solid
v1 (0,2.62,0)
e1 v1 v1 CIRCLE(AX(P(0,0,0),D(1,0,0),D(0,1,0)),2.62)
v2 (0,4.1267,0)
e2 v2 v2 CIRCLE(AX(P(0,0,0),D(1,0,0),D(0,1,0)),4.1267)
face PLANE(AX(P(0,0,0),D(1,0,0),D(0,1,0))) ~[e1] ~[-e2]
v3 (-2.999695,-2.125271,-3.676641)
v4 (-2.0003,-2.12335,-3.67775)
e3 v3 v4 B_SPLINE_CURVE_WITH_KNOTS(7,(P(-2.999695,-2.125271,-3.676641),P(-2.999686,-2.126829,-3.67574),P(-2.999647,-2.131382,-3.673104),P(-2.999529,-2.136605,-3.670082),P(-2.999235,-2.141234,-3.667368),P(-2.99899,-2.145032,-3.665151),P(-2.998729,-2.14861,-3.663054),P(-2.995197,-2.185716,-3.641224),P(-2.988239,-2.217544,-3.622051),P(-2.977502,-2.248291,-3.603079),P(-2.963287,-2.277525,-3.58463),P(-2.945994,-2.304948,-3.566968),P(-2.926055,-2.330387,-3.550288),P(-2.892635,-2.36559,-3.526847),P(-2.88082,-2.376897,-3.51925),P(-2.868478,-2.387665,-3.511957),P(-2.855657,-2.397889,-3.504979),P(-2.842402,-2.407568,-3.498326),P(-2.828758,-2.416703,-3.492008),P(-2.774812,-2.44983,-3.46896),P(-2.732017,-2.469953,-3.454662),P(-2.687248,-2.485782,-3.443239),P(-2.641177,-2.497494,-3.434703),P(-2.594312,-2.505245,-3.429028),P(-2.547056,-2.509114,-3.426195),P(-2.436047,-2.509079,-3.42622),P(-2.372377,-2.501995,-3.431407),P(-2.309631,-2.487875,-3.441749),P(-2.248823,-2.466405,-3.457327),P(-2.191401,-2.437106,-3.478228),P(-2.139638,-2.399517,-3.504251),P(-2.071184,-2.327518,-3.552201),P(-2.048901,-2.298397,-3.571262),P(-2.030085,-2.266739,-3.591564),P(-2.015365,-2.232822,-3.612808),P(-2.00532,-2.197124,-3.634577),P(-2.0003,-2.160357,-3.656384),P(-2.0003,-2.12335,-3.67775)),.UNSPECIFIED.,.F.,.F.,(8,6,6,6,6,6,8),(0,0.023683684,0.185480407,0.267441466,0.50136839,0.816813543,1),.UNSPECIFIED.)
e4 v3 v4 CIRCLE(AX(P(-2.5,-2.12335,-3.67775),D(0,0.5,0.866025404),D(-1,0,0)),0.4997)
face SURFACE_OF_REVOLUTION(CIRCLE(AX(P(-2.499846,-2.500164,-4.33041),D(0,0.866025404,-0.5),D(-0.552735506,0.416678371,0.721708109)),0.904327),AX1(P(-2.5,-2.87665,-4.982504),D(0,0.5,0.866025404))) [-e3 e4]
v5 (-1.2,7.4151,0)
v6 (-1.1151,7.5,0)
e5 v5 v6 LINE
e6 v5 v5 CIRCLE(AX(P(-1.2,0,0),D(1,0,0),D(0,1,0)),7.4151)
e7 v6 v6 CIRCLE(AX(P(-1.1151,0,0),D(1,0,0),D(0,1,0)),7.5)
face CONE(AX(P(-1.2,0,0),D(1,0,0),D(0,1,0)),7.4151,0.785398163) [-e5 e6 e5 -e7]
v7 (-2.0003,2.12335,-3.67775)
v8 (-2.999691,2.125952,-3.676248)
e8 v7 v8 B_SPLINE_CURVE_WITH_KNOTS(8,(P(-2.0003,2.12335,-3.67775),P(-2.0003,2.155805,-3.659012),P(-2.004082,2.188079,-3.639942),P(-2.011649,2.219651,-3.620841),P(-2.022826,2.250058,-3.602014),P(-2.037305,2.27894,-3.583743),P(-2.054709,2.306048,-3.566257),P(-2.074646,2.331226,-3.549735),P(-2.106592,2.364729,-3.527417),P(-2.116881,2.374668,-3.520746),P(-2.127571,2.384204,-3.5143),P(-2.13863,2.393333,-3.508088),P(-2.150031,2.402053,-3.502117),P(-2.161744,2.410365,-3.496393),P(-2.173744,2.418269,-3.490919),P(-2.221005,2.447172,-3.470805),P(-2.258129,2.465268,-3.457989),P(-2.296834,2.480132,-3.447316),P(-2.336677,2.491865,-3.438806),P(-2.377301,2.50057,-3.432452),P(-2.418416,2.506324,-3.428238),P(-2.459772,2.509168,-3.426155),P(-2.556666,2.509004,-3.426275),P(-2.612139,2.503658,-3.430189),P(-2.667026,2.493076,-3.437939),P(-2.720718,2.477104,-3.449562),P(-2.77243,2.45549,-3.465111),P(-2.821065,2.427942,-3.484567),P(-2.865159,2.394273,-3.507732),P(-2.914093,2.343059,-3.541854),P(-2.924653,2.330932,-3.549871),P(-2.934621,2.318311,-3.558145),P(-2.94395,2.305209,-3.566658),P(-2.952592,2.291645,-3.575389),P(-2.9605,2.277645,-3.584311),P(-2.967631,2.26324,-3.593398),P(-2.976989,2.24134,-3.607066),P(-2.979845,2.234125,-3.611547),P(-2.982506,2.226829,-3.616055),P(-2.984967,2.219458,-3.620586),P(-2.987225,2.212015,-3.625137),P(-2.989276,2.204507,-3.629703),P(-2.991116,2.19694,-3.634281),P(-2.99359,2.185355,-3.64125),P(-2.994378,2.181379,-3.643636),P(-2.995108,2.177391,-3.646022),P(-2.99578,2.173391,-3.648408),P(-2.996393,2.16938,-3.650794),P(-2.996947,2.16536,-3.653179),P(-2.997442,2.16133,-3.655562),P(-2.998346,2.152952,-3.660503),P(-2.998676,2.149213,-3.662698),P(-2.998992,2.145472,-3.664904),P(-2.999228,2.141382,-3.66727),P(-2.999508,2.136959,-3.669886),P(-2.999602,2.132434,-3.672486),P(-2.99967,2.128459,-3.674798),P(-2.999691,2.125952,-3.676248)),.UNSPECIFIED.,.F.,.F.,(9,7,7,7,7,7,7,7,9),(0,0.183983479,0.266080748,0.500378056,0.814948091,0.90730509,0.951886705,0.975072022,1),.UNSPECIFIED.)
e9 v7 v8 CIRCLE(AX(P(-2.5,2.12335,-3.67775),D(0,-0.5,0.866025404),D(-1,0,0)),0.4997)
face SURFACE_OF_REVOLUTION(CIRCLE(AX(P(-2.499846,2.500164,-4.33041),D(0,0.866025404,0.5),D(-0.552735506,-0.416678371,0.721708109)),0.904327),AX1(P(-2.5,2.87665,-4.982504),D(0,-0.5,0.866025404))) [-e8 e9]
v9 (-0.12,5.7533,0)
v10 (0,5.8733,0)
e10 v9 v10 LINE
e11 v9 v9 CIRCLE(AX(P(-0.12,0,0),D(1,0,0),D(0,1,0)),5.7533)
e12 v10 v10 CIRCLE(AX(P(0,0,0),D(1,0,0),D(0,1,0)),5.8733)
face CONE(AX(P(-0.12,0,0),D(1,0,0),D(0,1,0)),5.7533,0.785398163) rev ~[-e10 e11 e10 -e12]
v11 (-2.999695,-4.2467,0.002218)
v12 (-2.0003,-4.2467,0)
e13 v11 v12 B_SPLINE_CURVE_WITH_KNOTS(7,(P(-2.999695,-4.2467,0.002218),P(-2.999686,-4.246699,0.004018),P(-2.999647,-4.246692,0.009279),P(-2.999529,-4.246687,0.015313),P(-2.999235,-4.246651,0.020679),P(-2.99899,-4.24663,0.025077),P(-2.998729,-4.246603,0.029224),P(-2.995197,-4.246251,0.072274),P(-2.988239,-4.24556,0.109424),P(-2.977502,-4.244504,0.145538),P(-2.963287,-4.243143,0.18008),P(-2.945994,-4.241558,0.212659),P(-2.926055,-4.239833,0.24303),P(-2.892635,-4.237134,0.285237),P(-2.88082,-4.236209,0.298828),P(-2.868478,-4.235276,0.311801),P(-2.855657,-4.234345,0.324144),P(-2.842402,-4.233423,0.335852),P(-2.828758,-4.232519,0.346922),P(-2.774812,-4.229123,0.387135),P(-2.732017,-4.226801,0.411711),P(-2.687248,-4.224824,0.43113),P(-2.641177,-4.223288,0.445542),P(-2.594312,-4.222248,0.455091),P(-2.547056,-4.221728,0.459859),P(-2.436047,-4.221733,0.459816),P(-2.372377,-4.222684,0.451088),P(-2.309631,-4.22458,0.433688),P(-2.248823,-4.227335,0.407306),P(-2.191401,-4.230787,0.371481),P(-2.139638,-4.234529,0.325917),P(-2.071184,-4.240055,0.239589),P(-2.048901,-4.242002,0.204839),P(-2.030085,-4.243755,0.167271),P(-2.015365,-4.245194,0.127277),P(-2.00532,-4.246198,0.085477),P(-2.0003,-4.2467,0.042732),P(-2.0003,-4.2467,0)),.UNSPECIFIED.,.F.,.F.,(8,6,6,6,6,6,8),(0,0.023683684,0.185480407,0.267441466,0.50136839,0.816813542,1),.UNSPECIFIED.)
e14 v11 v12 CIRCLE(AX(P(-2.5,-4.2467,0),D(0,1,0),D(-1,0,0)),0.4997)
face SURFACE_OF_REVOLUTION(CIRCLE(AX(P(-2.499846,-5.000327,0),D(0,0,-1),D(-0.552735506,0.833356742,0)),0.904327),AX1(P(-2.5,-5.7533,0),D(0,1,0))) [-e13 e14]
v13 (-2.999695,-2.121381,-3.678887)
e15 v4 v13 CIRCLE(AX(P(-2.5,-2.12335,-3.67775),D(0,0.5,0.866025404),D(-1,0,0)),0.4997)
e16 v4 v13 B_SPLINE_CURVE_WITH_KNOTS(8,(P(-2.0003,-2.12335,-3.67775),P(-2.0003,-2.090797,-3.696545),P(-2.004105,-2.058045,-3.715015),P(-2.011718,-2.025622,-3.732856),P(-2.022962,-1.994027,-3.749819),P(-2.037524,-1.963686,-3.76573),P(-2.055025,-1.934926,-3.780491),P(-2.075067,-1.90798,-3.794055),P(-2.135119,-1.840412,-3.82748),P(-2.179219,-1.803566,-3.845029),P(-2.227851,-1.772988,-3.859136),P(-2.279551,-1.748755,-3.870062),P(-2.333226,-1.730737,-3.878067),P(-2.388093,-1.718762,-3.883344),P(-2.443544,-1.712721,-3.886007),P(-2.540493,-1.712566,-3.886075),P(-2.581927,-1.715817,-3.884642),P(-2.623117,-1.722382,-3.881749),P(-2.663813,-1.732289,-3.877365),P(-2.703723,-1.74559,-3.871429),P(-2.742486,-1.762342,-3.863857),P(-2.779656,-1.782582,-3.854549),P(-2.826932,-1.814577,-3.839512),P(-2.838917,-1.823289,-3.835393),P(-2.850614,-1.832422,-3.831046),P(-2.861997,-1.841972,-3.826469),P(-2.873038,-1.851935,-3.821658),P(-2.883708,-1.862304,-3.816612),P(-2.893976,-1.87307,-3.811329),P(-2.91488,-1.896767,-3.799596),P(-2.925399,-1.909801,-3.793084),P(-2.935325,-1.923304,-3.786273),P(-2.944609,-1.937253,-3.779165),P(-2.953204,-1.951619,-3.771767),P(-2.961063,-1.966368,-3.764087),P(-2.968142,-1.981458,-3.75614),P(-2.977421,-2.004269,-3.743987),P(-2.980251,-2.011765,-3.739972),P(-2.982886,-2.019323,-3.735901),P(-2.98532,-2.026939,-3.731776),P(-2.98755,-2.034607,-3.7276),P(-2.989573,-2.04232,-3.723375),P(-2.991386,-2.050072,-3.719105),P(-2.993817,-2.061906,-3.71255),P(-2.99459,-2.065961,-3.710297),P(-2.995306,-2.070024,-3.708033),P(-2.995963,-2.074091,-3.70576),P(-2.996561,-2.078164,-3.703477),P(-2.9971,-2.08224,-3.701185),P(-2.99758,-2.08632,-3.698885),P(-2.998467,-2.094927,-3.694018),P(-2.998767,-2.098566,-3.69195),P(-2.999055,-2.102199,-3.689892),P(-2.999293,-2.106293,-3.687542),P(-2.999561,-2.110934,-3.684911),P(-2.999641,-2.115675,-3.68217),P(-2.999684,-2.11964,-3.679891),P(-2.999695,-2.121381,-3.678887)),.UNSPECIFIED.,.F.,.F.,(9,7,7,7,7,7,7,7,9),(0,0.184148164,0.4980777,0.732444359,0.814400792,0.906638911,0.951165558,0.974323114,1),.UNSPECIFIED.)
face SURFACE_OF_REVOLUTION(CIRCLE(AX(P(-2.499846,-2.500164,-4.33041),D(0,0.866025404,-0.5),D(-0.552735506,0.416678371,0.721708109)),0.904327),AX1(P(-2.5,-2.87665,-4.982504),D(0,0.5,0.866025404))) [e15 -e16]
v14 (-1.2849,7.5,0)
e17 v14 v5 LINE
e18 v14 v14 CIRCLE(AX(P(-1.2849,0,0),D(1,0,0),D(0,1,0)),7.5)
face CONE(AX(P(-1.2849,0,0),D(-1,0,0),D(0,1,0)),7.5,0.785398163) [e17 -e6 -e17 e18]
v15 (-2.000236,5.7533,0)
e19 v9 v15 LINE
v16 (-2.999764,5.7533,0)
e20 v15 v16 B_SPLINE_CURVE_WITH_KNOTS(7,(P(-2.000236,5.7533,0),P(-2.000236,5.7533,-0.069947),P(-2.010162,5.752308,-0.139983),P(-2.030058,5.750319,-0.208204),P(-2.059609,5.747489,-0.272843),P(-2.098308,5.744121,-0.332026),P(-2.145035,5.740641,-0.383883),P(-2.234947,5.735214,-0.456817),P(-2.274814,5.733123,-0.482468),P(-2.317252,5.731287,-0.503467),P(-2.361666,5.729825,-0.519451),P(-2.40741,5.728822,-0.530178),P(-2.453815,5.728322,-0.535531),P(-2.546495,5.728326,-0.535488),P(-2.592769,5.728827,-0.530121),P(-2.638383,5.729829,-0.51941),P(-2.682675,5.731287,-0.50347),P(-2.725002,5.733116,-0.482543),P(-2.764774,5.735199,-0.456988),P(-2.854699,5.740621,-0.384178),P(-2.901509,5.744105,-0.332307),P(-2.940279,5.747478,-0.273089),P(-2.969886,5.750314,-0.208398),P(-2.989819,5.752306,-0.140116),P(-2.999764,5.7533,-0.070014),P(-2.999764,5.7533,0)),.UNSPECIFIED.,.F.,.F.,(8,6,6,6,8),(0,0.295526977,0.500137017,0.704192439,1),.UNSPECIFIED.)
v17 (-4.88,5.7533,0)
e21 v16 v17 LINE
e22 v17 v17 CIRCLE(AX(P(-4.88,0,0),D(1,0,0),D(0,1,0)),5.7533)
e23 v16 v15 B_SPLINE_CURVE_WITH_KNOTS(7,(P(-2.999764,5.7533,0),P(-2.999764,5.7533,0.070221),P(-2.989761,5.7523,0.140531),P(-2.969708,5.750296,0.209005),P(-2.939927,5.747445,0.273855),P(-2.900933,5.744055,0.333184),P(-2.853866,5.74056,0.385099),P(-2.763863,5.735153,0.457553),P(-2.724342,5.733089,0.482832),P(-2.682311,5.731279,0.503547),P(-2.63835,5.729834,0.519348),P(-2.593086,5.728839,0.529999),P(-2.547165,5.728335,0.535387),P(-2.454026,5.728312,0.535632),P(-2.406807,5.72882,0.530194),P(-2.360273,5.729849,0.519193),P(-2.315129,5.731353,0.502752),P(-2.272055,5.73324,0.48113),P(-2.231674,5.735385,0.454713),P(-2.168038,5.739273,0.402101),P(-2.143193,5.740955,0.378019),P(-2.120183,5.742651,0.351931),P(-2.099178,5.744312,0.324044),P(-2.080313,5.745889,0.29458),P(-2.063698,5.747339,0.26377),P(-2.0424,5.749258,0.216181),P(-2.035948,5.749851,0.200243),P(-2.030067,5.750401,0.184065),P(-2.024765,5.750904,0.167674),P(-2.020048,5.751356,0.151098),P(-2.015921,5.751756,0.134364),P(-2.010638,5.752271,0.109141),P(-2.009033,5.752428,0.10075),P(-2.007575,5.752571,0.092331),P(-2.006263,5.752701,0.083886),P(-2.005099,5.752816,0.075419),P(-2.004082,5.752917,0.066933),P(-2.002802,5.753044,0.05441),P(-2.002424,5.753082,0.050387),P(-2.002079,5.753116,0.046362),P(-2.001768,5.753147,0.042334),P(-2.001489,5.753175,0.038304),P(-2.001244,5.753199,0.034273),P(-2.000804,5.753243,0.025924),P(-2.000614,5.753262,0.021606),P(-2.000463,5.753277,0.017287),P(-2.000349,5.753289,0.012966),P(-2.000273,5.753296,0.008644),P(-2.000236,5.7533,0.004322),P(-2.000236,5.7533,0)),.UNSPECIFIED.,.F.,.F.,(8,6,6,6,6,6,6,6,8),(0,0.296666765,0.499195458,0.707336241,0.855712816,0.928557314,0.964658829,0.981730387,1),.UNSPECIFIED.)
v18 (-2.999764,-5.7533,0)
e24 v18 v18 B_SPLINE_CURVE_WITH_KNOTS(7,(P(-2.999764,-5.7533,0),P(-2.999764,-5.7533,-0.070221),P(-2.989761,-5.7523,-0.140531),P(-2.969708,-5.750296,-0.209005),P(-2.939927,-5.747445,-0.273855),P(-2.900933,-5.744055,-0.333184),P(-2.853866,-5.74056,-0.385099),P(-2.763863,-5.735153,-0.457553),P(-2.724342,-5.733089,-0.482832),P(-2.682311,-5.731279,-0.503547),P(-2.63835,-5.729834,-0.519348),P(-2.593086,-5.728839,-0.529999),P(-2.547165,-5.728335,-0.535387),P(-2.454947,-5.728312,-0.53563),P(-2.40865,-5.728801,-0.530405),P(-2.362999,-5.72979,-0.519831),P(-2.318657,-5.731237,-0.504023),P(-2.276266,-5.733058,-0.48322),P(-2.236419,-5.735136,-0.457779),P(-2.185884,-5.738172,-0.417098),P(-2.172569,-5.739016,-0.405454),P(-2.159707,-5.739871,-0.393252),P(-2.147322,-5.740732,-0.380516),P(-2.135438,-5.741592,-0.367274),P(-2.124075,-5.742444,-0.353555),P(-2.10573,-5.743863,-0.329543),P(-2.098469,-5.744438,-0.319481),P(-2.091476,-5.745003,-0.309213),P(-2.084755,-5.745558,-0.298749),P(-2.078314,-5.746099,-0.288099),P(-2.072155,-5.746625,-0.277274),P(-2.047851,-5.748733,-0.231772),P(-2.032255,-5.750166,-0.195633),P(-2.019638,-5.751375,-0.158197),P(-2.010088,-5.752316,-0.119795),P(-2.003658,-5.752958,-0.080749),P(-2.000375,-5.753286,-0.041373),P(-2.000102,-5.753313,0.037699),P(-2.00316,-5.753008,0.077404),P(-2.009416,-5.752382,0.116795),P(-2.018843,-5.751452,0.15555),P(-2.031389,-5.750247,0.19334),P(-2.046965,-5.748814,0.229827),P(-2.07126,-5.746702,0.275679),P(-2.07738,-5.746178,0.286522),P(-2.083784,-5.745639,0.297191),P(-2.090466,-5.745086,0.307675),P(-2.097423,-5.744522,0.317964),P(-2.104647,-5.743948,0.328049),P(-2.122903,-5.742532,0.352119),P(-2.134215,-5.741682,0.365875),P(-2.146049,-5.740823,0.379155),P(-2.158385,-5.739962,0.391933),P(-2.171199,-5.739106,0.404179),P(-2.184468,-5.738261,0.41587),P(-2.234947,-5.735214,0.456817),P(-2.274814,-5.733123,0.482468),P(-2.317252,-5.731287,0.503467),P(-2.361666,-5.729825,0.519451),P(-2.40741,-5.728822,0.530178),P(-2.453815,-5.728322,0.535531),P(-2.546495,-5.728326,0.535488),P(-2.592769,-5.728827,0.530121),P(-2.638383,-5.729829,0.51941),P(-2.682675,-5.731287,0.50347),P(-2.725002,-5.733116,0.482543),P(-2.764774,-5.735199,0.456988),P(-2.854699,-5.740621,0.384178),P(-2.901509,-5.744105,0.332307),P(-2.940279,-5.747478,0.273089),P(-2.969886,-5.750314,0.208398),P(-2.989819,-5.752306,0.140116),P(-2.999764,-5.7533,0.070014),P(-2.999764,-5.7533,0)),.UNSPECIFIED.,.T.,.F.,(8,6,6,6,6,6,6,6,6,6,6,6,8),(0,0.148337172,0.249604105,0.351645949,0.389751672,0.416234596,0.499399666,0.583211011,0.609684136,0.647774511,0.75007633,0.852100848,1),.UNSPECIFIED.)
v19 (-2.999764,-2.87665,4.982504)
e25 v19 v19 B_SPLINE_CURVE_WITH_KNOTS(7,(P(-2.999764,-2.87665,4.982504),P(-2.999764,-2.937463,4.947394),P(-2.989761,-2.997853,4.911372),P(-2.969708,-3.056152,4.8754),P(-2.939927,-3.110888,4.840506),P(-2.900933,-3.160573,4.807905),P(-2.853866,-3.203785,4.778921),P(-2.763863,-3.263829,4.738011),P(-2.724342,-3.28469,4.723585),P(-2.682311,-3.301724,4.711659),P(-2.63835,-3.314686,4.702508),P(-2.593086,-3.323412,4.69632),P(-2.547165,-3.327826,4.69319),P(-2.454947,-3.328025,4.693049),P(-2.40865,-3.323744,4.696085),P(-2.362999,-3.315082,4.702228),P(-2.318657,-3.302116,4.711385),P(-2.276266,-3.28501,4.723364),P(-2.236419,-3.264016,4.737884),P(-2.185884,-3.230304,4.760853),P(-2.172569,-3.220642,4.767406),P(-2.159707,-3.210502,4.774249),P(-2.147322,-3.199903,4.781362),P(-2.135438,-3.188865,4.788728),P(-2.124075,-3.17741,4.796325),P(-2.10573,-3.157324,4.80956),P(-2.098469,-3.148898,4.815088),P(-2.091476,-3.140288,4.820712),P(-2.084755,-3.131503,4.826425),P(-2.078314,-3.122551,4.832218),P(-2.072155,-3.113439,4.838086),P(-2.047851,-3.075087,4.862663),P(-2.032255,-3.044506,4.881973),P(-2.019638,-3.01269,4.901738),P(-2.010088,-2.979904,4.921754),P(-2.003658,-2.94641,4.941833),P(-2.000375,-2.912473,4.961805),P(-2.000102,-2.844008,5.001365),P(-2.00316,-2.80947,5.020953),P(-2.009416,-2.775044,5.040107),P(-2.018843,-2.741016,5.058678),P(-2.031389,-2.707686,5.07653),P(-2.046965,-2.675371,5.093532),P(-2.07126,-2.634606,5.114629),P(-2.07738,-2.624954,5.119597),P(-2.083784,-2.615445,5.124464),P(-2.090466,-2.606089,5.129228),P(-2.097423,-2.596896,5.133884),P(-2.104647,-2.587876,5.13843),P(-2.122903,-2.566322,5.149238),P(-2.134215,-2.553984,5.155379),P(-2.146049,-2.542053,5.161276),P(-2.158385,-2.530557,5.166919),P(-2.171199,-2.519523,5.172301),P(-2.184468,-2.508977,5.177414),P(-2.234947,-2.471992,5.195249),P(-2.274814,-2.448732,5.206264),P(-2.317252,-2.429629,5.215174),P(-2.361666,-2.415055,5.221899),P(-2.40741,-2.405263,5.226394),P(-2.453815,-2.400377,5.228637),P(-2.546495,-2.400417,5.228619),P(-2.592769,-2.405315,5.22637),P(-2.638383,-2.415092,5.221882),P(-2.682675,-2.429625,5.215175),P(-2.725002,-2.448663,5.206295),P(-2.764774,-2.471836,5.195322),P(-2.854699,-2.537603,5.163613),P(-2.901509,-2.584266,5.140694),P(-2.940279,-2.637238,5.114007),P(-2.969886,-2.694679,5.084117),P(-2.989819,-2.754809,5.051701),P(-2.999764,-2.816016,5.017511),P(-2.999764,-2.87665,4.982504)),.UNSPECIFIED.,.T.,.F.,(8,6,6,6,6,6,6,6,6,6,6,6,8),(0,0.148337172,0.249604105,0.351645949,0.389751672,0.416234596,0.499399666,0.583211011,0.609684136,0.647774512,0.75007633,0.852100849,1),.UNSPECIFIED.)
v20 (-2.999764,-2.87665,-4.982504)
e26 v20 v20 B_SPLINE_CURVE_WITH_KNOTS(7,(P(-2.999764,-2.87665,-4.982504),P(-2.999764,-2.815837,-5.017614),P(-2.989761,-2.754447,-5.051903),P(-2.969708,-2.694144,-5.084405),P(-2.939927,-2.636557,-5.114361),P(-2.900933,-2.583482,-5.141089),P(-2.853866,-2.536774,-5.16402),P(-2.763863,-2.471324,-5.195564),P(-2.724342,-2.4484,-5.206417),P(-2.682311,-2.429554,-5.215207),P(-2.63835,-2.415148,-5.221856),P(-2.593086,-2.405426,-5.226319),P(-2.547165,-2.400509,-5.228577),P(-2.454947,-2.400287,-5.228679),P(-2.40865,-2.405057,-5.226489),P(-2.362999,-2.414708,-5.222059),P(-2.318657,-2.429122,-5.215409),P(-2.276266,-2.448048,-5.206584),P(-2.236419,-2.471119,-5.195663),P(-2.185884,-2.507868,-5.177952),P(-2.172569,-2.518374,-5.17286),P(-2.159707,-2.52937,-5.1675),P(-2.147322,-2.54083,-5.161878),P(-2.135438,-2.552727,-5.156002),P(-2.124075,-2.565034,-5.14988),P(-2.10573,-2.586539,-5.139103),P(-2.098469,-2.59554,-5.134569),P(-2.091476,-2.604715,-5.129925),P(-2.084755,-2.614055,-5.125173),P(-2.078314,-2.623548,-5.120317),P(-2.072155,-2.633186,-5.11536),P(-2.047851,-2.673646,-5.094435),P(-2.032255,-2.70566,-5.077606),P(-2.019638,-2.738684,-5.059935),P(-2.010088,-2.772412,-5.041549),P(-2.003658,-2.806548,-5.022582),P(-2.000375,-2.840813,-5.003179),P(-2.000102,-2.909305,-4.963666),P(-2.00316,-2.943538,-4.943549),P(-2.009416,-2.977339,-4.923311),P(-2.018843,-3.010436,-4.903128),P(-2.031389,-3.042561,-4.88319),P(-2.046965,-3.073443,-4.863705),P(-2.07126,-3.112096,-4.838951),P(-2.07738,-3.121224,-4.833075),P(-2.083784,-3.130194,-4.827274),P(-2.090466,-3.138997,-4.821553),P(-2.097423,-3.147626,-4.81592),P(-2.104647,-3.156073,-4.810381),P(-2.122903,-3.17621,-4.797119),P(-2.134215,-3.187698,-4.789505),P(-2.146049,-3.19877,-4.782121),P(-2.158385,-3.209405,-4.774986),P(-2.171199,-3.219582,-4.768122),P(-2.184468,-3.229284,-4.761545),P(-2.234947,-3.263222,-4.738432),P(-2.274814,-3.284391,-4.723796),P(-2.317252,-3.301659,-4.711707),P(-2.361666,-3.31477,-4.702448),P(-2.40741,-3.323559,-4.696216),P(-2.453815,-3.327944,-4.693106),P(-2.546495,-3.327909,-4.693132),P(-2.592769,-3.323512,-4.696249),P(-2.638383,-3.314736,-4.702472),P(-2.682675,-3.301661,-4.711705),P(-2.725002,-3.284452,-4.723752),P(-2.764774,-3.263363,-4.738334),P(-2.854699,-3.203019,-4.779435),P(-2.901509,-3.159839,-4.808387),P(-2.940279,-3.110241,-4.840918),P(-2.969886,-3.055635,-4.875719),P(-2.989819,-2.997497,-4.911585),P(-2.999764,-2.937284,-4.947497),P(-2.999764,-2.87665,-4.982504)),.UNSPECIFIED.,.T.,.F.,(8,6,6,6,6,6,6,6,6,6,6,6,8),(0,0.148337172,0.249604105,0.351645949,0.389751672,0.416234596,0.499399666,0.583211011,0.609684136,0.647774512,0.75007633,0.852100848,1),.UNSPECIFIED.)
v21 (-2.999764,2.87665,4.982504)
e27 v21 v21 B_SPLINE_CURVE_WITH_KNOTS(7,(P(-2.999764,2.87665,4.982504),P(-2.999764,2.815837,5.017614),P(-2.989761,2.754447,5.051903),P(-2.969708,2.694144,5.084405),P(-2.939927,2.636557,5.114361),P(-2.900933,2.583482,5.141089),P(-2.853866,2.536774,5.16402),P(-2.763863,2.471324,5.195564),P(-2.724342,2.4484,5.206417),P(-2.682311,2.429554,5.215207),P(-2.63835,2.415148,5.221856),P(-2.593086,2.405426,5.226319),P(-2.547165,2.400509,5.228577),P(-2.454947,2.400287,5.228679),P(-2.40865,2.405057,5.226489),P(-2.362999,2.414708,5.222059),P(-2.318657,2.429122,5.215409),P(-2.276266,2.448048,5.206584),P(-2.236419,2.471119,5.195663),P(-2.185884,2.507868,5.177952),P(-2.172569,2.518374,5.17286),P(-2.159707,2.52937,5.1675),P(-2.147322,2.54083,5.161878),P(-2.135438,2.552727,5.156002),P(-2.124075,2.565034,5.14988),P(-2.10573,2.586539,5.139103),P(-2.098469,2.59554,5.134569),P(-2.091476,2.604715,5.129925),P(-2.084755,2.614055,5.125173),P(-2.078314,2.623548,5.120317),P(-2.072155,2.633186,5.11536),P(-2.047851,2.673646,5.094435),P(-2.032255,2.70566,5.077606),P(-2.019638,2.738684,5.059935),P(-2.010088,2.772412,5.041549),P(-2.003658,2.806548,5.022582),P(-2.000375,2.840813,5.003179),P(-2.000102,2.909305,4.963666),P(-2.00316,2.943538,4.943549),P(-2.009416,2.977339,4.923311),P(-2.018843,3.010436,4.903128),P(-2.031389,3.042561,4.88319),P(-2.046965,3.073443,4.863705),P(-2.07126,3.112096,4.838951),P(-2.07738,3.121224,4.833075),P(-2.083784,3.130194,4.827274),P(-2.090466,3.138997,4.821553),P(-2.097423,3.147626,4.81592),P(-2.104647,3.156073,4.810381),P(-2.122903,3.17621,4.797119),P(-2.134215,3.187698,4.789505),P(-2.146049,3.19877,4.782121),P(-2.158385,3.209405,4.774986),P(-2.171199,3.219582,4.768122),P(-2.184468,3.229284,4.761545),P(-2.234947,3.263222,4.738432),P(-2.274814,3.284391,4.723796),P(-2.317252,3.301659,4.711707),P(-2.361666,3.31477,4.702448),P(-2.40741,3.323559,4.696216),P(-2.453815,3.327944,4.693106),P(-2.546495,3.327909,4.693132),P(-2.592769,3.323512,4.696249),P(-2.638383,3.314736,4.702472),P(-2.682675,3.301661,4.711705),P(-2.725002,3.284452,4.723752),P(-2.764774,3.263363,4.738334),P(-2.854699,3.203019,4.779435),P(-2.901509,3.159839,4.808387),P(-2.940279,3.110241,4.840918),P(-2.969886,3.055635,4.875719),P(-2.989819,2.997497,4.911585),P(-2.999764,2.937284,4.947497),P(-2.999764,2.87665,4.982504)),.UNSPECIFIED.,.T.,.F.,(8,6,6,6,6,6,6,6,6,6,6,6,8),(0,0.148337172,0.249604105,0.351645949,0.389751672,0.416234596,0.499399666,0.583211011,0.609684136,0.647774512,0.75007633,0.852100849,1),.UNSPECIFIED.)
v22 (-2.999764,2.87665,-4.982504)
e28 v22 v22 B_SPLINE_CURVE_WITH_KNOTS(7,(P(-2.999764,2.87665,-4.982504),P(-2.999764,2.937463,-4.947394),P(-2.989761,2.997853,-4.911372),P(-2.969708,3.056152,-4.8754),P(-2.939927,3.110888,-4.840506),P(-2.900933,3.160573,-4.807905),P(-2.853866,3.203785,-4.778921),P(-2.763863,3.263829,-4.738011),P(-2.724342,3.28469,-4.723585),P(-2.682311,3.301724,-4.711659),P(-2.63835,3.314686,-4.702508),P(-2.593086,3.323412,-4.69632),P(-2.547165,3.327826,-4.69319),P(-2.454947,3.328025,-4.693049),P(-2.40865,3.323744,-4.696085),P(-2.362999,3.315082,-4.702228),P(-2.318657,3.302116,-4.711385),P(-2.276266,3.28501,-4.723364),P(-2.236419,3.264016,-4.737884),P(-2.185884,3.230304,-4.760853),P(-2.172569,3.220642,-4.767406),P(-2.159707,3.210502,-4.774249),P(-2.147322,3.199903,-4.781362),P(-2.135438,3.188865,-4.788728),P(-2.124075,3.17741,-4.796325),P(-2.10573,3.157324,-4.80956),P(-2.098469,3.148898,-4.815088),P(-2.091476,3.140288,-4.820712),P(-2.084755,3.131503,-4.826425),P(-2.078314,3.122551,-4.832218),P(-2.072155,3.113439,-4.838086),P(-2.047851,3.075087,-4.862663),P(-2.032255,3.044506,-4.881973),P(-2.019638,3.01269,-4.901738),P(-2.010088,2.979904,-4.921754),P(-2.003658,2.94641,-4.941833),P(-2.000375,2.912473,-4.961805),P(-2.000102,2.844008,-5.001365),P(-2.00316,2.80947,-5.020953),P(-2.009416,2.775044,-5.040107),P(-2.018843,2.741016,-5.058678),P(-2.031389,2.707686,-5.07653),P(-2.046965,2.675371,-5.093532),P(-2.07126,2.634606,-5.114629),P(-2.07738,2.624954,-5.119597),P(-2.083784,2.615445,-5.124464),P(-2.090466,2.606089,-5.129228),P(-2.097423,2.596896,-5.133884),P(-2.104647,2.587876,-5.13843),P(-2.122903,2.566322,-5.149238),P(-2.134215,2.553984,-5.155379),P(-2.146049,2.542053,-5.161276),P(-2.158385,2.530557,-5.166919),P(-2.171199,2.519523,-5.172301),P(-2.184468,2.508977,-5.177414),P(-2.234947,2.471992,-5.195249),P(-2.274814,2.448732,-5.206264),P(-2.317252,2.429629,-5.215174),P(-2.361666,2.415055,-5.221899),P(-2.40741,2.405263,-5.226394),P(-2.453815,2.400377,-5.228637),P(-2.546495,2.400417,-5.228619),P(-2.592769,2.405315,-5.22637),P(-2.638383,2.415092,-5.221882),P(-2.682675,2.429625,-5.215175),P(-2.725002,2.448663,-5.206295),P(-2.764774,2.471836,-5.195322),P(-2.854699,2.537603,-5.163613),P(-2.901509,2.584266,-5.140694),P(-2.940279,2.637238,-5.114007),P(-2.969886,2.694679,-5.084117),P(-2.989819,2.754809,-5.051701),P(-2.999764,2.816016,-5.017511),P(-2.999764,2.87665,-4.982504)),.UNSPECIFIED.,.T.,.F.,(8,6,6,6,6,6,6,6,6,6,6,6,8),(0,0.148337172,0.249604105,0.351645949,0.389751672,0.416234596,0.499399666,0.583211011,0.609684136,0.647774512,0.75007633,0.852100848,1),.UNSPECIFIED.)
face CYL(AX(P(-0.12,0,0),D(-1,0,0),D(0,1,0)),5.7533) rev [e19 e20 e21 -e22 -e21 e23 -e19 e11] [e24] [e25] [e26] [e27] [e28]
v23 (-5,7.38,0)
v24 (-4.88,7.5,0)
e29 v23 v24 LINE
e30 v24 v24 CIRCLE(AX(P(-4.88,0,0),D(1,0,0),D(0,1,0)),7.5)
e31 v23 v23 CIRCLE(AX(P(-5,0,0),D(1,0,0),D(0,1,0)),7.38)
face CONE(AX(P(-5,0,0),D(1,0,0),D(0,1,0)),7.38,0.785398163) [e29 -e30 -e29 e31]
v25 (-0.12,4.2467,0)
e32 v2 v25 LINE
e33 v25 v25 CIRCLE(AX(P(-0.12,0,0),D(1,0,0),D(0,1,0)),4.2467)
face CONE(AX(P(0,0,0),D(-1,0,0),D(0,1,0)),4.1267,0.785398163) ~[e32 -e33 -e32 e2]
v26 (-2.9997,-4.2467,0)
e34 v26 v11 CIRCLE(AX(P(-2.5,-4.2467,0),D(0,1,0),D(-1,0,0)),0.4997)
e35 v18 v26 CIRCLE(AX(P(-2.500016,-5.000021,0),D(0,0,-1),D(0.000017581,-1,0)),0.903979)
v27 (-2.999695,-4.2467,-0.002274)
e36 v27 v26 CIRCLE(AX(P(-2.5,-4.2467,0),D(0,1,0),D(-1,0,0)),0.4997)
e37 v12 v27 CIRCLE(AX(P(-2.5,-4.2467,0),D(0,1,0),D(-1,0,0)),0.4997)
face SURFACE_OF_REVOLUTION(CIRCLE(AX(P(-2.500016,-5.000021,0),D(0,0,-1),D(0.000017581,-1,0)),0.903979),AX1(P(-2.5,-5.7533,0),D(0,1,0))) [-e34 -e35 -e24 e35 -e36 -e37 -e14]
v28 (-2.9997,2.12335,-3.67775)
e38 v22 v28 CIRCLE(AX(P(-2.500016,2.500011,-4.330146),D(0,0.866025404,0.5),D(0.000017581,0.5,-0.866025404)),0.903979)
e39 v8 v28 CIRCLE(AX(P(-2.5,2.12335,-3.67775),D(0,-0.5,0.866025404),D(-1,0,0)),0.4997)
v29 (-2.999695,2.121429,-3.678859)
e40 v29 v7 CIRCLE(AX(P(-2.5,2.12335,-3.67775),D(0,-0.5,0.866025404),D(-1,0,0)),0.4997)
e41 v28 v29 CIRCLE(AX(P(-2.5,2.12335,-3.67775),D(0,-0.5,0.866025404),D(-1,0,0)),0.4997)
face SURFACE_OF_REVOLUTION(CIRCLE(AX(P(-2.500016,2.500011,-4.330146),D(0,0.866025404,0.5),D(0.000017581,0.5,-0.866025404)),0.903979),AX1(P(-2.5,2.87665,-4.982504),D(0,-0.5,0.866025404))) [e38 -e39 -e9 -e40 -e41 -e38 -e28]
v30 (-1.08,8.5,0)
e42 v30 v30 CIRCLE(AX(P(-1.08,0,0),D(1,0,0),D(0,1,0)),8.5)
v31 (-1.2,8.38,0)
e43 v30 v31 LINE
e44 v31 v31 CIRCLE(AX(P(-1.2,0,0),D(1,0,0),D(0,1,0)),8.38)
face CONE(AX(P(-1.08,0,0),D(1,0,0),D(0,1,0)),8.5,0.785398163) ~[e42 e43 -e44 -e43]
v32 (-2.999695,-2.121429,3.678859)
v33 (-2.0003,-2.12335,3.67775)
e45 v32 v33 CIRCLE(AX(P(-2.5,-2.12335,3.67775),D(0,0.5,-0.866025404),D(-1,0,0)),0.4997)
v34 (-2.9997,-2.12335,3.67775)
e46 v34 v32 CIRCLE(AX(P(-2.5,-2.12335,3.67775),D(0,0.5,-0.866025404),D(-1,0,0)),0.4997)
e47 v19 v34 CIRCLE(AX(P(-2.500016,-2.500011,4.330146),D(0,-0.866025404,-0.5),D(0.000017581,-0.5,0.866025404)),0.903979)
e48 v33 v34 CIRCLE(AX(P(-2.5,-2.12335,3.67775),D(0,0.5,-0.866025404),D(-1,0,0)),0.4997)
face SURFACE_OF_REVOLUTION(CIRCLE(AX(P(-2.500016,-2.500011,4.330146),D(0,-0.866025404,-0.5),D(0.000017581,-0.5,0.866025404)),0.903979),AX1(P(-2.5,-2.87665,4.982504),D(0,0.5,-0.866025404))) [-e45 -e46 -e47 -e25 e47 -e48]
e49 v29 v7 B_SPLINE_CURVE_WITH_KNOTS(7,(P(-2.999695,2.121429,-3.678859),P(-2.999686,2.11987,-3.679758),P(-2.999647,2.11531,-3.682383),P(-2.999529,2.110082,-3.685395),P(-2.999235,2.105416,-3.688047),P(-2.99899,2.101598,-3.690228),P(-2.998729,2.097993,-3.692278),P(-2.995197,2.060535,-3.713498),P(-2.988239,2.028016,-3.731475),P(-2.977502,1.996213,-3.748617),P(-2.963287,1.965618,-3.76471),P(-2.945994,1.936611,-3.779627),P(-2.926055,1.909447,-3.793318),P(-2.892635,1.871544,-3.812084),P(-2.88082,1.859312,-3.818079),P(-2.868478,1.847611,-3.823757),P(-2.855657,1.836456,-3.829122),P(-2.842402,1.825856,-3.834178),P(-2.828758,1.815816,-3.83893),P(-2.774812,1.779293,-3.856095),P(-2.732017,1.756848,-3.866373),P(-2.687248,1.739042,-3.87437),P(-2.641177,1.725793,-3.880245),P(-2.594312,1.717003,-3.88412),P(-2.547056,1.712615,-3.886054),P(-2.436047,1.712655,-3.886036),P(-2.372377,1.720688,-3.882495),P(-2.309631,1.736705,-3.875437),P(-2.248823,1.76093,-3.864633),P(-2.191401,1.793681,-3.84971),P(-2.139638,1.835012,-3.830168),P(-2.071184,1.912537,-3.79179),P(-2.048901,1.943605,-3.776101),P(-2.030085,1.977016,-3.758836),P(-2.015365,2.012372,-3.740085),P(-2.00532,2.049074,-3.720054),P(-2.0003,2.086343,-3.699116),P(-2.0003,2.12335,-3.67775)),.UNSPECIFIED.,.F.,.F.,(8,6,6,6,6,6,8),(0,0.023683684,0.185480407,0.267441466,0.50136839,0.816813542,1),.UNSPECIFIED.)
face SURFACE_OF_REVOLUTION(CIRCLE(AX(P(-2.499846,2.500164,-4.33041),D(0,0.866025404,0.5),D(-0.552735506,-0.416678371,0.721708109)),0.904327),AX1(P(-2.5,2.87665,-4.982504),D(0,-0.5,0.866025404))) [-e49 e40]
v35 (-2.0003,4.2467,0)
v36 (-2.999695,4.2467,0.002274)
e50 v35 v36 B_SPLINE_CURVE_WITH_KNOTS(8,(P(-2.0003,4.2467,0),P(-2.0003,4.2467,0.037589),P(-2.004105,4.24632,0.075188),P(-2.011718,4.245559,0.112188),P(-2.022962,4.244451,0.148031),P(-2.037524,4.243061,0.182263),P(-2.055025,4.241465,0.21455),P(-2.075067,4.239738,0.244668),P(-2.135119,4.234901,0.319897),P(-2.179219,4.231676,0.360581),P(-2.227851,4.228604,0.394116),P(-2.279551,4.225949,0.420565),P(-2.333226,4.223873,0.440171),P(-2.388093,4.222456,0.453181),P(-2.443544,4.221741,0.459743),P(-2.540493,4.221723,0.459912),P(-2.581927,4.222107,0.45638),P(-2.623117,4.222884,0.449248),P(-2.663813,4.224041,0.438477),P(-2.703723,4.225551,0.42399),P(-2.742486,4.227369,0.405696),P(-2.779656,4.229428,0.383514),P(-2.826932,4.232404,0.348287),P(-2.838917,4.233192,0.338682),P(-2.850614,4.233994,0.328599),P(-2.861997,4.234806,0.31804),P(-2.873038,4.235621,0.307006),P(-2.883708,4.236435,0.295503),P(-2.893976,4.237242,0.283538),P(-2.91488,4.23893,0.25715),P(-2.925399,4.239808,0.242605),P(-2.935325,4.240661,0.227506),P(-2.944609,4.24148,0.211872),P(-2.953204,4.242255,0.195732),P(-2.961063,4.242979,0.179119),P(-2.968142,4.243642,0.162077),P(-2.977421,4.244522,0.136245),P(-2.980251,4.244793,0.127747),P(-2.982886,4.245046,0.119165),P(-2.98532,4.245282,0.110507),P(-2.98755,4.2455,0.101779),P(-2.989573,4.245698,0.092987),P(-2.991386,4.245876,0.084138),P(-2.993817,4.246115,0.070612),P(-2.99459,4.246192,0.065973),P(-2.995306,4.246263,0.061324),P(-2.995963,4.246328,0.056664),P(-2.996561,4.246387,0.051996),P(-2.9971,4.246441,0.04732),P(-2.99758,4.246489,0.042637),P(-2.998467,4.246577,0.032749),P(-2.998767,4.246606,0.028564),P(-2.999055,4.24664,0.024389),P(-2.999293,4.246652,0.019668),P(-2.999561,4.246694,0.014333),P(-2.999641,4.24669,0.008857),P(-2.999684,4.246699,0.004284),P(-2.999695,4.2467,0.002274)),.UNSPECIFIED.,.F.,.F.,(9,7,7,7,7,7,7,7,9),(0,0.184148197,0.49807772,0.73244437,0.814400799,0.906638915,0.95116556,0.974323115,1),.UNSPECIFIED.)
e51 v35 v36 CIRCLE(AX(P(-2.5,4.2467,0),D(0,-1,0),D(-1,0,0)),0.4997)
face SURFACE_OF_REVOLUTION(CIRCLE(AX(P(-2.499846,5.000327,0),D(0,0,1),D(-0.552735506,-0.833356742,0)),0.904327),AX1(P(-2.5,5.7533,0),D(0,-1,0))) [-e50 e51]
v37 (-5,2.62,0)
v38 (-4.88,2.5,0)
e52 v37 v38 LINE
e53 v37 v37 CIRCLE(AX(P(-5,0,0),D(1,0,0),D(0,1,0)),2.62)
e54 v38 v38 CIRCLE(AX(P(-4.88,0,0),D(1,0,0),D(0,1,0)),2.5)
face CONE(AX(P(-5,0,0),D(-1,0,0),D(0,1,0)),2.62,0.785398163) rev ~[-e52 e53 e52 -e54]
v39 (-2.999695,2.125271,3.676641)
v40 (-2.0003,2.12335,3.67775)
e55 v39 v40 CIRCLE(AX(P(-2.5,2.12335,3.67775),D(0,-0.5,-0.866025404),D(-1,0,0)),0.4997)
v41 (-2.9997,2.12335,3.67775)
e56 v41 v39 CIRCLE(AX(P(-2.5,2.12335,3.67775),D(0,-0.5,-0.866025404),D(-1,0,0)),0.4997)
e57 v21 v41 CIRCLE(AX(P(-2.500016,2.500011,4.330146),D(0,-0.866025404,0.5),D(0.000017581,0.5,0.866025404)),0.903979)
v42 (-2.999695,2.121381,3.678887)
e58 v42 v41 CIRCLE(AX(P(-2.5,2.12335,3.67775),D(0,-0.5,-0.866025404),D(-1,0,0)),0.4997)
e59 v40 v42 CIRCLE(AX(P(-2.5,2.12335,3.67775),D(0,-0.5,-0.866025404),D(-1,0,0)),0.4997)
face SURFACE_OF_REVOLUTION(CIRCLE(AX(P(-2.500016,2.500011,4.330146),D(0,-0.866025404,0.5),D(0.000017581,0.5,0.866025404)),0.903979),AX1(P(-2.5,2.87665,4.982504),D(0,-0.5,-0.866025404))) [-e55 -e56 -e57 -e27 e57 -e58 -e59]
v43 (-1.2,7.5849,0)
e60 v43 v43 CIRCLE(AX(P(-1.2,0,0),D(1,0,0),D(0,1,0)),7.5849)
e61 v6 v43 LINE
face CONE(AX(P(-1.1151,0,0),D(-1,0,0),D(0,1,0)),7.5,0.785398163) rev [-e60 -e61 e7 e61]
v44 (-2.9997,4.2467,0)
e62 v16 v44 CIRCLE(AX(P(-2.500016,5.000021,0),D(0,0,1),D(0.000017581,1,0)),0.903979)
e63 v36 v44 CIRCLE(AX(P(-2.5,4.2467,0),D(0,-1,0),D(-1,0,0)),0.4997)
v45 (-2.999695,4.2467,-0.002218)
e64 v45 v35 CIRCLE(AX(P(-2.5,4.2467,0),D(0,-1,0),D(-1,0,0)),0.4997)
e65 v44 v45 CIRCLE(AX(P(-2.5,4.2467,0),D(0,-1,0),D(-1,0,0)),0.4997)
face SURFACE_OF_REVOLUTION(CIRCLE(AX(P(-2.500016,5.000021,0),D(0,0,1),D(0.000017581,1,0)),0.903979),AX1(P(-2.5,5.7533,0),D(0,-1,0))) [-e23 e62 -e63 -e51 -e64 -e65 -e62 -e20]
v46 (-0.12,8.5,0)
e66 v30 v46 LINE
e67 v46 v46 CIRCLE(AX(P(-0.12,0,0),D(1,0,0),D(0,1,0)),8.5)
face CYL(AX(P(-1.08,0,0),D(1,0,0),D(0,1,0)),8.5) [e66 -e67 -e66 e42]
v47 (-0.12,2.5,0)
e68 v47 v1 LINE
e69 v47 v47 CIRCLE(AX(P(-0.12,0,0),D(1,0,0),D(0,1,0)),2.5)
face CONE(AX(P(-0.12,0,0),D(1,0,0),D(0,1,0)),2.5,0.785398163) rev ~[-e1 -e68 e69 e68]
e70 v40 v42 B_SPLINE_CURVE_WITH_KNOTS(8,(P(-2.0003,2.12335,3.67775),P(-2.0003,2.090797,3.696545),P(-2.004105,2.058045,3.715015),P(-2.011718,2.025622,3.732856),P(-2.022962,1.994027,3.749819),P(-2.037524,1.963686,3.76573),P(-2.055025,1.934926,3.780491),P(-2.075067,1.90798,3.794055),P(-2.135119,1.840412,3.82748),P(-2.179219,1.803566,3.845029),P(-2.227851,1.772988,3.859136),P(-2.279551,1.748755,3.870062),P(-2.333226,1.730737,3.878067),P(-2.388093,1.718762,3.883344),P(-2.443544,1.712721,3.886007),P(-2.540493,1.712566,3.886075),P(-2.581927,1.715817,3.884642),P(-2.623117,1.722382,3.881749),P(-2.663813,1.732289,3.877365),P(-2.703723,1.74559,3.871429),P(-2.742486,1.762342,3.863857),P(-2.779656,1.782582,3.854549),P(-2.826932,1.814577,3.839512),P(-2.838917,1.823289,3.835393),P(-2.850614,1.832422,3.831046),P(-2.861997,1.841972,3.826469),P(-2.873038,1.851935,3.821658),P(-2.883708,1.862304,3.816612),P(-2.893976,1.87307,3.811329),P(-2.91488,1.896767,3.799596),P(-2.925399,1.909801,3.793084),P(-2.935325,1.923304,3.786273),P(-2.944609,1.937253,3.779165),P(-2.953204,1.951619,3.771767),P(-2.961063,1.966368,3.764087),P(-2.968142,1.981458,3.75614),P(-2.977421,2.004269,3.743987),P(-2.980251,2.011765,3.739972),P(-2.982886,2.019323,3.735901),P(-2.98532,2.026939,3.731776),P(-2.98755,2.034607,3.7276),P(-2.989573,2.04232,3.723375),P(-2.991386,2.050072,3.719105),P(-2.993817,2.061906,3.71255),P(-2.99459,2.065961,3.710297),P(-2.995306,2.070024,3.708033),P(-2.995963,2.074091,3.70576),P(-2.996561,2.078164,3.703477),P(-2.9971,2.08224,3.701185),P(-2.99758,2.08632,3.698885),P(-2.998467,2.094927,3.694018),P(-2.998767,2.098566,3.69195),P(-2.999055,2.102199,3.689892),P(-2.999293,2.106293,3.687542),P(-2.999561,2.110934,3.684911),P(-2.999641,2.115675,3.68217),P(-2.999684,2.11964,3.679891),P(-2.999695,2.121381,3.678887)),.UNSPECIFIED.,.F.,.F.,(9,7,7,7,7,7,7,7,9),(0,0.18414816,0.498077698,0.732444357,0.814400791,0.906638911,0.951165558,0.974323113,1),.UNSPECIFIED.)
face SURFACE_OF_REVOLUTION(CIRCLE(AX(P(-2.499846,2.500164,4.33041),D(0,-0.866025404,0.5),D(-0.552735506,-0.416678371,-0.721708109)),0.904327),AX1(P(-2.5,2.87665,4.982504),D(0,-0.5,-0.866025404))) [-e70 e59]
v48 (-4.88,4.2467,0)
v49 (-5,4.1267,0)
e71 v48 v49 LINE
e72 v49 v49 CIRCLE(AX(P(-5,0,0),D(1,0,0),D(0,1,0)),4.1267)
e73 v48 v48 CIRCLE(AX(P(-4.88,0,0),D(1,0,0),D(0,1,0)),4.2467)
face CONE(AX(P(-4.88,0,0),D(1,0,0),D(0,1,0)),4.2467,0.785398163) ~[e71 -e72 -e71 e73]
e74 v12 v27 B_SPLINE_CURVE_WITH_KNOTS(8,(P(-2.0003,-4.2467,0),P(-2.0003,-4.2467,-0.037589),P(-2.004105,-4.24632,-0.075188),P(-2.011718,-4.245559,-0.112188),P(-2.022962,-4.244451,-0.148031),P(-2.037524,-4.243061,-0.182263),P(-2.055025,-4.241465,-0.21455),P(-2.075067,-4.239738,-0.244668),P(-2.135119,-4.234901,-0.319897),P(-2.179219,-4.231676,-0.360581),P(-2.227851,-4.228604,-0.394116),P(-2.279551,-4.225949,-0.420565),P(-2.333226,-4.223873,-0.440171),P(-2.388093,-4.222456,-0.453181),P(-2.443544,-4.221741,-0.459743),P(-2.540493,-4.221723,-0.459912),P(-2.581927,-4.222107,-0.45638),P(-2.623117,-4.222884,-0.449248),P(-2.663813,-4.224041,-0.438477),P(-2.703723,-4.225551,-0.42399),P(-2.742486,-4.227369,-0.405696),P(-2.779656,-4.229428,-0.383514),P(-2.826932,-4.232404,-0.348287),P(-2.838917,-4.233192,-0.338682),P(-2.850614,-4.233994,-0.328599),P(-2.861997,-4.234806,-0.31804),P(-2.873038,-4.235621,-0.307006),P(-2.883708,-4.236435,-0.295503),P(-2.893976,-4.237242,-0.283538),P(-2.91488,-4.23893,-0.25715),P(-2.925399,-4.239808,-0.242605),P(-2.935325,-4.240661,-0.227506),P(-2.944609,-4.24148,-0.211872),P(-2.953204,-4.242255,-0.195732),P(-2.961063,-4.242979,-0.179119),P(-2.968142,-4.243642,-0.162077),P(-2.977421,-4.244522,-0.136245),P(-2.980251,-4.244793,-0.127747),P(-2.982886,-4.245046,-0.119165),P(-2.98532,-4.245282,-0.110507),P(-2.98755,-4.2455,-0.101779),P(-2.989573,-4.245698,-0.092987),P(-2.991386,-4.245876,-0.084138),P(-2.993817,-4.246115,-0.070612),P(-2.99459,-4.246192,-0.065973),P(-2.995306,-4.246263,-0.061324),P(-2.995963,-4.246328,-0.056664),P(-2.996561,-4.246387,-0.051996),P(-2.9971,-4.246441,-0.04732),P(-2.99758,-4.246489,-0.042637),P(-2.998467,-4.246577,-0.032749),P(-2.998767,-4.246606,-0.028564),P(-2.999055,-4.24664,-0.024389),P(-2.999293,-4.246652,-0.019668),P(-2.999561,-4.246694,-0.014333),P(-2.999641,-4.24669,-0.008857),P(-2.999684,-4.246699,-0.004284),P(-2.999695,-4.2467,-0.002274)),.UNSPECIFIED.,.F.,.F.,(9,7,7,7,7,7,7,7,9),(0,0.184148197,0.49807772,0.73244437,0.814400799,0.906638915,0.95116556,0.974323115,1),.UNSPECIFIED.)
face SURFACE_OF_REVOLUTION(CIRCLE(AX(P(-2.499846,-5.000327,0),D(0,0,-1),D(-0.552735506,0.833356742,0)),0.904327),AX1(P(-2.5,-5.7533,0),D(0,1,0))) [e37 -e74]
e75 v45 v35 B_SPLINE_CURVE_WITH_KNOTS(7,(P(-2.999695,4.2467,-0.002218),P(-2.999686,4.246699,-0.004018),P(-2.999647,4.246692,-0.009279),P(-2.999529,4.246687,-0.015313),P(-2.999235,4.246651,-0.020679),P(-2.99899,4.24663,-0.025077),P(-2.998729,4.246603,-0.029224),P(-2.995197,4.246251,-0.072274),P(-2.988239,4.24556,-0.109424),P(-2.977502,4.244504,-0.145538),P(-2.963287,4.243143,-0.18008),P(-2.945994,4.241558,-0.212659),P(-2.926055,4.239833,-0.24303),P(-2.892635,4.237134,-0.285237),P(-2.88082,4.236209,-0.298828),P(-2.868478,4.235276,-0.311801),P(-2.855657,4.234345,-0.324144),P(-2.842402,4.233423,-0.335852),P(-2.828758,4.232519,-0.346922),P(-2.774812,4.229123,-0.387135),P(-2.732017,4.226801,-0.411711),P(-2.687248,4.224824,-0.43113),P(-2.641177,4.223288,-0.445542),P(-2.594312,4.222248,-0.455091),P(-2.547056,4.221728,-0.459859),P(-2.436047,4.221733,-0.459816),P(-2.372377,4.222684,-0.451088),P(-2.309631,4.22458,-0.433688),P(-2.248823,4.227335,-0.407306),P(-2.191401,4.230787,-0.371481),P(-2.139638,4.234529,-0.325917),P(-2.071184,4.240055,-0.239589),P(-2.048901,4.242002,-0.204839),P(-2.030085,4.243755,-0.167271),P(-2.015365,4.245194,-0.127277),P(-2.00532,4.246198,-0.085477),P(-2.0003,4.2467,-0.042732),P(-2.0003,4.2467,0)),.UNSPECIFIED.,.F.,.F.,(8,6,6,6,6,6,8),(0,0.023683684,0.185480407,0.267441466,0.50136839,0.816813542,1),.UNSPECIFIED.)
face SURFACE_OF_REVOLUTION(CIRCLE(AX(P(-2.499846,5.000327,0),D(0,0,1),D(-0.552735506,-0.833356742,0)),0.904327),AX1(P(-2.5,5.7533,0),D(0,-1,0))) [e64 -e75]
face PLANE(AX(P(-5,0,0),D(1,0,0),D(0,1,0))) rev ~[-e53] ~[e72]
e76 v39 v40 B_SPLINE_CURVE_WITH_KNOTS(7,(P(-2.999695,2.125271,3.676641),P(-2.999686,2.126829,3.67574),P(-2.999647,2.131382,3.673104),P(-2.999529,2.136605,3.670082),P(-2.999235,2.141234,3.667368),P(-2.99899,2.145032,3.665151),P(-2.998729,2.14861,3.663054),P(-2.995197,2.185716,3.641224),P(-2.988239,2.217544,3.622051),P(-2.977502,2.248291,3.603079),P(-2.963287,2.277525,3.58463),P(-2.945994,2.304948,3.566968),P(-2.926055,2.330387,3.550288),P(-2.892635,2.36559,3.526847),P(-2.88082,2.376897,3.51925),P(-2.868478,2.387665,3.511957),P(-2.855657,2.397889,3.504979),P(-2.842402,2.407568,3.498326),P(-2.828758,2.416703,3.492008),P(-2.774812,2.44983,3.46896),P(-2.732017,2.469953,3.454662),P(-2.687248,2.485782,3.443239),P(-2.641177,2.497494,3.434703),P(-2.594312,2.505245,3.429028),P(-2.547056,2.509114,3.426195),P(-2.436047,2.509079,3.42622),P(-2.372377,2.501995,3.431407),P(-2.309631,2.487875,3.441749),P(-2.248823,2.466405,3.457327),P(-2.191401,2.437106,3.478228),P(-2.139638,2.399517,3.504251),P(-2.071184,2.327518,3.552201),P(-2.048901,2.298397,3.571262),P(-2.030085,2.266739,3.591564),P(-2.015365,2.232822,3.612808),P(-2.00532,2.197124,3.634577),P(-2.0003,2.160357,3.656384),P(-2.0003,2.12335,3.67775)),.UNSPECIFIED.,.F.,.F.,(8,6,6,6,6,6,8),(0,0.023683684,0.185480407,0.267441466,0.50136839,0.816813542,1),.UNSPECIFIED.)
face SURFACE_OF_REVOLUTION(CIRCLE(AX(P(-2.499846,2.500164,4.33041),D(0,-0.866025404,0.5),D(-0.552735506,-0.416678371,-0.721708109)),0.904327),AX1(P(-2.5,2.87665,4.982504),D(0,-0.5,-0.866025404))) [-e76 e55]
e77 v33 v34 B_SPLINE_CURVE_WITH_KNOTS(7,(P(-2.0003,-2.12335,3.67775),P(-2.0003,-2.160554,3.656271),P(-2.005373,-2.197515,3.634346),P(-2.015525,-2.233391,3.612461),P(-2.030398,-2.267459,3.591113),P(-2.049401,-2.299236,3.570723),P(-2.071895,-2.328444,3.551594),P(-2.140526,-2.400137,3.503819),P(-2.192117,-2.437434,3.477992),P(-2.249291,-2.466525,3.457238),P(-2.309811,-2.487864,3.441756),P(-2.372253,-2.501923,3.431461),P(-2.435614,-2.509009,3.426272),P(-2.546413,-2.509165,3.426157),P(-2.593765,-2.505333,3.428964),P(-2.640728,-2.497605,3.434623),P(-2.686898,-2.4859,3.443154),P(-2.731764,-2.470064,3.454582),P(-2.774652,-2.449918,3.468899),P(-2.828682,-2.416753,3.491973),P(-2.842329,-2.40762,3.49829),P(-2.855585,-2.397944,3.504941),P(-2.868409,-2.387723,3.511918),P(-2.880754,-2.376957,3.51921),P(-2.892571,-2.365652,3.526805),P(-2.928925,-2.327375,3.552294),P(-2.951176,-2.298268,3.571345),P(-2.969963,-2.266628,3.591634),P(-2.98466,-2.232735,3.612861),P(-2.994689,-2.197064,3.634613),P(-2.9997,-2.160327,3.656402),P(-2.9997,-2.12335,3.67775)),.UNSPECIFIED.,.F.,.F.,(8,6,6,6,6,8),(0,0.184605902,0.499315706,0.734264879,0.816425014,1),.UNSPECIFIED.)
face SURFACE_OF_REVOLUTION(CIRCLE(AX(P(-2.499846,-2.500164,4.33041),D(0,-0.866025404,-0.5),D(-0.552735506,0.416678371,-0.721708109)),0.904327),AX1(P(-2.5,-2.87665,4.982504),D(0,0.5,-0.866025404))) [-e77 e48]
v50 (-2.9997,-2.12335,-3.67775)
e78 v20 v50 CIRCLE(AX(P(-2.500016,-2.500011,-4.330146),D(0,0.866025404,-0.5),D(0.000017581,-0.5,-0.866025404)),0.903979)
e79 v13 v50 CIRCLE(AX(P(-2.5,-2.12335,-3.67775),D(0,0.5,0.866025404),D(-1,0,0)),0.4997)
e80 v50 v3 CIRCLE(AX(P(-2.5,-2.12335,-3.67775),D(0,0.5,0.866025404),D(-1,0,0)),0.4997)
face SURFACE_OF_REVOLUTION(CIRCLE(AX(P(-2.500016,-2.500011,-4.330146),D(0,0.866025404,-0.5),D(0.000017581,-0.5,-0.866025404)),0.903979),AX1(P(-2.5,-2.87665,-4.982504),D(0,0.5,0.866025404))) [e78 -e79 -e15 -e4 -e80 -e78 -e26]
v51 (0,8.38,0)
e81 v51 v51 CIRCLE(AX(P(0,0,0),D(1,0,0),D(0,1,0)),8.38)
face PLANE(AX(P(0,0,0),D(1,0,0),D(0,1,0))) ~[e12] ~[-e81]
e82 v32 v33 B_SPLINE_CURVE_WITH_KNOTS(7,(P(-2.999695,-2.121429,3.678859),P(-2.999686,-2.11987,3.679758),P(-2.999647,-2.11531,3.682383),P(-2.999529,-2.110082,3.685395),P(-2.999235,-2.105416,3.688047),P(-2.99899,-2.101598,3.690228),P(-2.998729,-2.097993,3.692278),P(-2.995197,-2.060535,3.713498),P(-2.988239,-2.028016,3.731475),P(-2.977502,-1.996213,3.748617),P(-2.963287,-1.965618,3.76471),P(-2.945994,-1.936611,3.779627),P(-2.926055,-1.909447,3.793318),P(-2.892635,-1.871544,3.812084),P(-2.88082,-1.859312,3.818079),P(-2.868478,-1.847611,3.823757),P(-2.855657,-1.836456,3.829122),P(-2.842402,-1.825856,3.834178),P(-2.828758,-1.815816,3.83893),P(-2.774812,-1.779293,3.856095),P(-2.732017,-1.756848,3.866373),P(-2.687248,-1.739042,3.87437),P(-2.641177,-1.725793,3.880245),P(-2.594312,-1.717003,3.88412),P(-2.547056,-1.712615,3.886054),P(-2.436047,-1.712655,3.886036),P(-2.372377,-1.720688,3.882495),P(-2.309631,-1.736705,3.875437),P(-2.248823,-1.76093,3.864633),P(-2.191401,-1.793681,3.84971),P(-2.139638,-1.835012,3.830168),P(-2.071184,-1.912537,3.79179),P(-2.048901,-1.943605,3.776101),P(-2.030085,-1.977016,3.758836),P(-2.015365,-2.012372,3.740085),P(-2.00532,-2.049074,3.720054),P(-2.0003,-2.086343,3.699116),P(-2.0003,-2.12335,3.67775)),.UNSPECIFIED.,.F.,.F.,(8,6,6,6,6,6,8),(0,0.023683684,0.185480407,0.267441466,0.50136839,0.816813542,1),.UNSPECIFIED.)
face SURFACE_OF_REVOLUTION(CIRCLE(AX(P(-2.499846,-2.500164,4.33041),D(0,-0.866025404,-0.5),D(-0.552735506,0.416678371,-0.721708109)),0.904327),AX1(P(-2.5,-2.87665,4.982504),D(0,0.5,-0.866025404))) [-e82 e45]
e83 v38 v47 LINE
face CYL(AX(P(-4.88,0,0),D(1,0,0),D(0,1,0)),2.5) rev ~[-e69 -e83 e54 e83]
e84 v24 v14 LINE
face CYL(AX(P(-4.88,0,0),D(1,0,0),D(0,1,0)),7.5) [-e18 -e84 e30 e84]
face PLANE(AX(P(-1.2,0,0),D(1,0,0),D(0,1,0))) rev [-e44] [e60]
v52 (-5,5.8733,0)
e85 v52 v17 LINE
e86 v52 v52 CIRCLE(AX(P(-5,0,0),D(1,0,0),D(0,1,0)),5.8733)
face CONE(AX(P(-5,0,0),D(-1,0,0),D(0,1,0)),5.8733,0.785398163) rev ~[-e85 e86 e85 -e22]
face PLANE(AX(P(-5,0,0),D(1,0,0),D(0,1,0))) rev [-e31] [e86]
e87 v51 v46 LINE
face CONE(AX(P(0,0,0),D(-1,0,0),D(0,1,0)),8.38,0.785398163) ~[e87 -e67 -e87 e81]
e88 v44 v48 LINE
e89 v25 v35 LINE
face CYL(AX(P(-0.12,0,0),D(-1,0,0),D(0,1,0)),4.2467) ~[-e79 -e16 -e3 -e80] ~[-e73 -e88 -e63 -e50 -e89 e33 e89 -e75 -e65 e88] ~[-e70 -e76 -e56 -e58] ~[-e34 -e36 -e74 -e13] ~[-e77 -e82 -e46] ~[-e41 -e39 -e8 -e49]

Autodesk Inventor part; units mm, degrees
ref_plane "YZ Plane" through (0, 0, 0) normal (1, 0, 0) x (0, 1, 0)
ref_plane "XZ Plane" through (0, 0, 0) normal (0, 1, 0) x (-1, 0, 0)
ref_plane "XY Plane" through (0, 0, 0) normal (0, 0, 1) x (1, 0, 0)
sketch "Sketch2" plane through (0, 0, 0) normal (0, 0, 1) x (1, 0, 0)
  line L0 (-4.88, 2.5) -> (-0.12, 2.5)
  line L1 (0, 2.62) -> (0, 4.1267)
  line L2 (-0.12, 4.2467) -> (-4.88, 4.2467)
  line L3 (-5, 4.1267) -> (-5, 2.62)
  line L4 (-4.88, 7.5) -> (-1.2849, 7.5)
  line L5 (-0.12, 5.7533) -> (-4.88, 5.7533)
  line L6 (-5, 5.8733) -> (-5, 7.38)
  line L7 (-1.2, 7.5) -> (-1.2, 7.5849) construction
  line L8 (-1.08, 8.5) -> (-0.12, 8.5)
  line L9 (-2.3, 0) -> (0, 0)
  line L10 (-5, 4.2467) -> (-5, 5.7533) construction
  line L11 (0, 0) -> (0, 2.5) construction
  line L12 (0, 5.8733) -> (0, 8.38)
  line L13 (-1.2849, 7.5) -> (-1.2, 7.4151)
  line L14 (-1.2849, 7.5) -> (-1.1649, 7.5) construction
  line L15 (-1.2, 7.4151) -> (-1.1151, 7.5)
  line L16 (-1.1151, 7.5) -> (-1.2, 7.5849)
  line L17 (-1.1576, 7.4576) -> (-1.2, 7.5) construction
  line L18 (-1.2, 7.5849) -> (-1.2, 8.38)
  line L19 (-1.2849, 7.5) -> (-1.2, 7.5) construction
  line L20 (-5, 7.38) -> (-4.88, 7.5)
  line L21 (-5, 5.8733) -> (-4.88, 5.7533)
  line L22 (-4.88, 4.2467) -> (-5, 4.1267)
  line L23 (-5, 2.62) -> (-4.88, 2.5)
  line L24 (-0.12, 2.5) -> (0, 2.62)
  line L25 (0, 4.1267) -> (-0.12, 4.2467)
  line L26 (-0.12, 5.7533) -> (0, 5.8733)
  line L27 (0, 8.38) -> (-0.12, 8.5)
  line L28 (-1.08, 8.5) -> (-1.2, 8.38)
  point P0 (0, 0)
  point P1 (-5, 2.5)
  point P2 (0, 4.2467)
  point P3 (-5, 7.5)
  point P4 (0, 5.7533)
  point P5 (-1.2, 8.5)
  point P6 (0, 8.5)
  dimension "d" = 5
  dimension "D" = 15
  dimension "C2" = 1.2
  dimension "d5" = 45
  dimension "d6" = 0.12
  dimension "D2" = 17
  dimension "d8" = 0.12
  dimension "d9" = 0.12
  dimension "d10" = 0.12
  dimension "d11" = 0.12
  dimension "d12" = 0.12
  dimension "d13" = 0.12
  dimension "d14" = 0.12
  dimension "d15" = 0.12
  dimension "d16" = 0.12
  dimension "d17" = 0.12
  dimension "d18" = 0.12
  dimension "d19" = 0.12
  dimension "d20" = 0.12
  dimension "d21" = 0.12
  dimension "d22" = 0.12
  dimension "d23" = 0.12
  dimension "d24" = 0.12
  dimension "d25" = 0.12
  dimension "bd" = 1.5067
  dimension "B1" = 5
revolve "Revolution1" add sketch "Sketch2" angle 360 about axis through (-2.3, 0, 0) along (1, 0, 0)
sketch "Sketch3" plane through (0, 0, 0) normal (0, 0, 1) x (1, 0, 0)
  line L0 (-0.12, 5.7533) -> (-4.88, 5.7533) construction
  line L1 (-4.88, 4.2467) -> (-0.12, 4.2467) construction
  line L2 (-2.5, 5.7533) -> (-2.5, 4.2467)
  arc A0 (-2.5, 4.096) -> (-2.5, 5.904) centre (-2.5, 5) ccw construction
  line L3 (-2.5, 5.7533) -> (-2.5, 5.904)
  line L4 (-2.5, 4.2467) -> (-2.5, 4.096)
  arc A1 (-2.9997, 4.2467) -> (-2.5, 4.096) centre (-2.5, 5) ccw
  arc A2 (-2.5, 5.904) -> (-2.9997, 4.2467) centre (-2.5, 5) ccw
  point P0 (0, 0)
  dimension "d28" = 1.808
revolve "Revolution2" add sketch "Sketch3" angle 360 about axis through (-2.5, 5.7533, 0) along (0, -1, 0)
pattern_circular "Circular Pattern1" count 6 over 360 about axis through (-10, 0, 0) along (1, 0, 0) of "Revolution2"
equation "\"d6\" = 0.1 * C2"
equation "\"d8\" = 0.1 * C2"
equation "\"d9\" = d8"
equation "\"d10\" = d8"
equation "\"d11\" = d10"
equation "\"d12\" = d8"
equation "\"d13\" = d12"
equation "\"d14\" = d8"
equation "\"d15\" = d14"
equation "\"d16\" = d8"
equation "\"d17\" = d16"
equation "\"d18\" = d8"
equation "\"d19\" = d18"
equation "\"d20\" = d8"
equation "\"d21\" = d20"
equation "\"d22\" = d8"
equation "\"d23\" = d22"
equation "\"d24\" = d8"
equation "\"d25\" = d24"
equation "\"d28\" = 1.2 * bd"
properties part number "F606ZZFlanged"
